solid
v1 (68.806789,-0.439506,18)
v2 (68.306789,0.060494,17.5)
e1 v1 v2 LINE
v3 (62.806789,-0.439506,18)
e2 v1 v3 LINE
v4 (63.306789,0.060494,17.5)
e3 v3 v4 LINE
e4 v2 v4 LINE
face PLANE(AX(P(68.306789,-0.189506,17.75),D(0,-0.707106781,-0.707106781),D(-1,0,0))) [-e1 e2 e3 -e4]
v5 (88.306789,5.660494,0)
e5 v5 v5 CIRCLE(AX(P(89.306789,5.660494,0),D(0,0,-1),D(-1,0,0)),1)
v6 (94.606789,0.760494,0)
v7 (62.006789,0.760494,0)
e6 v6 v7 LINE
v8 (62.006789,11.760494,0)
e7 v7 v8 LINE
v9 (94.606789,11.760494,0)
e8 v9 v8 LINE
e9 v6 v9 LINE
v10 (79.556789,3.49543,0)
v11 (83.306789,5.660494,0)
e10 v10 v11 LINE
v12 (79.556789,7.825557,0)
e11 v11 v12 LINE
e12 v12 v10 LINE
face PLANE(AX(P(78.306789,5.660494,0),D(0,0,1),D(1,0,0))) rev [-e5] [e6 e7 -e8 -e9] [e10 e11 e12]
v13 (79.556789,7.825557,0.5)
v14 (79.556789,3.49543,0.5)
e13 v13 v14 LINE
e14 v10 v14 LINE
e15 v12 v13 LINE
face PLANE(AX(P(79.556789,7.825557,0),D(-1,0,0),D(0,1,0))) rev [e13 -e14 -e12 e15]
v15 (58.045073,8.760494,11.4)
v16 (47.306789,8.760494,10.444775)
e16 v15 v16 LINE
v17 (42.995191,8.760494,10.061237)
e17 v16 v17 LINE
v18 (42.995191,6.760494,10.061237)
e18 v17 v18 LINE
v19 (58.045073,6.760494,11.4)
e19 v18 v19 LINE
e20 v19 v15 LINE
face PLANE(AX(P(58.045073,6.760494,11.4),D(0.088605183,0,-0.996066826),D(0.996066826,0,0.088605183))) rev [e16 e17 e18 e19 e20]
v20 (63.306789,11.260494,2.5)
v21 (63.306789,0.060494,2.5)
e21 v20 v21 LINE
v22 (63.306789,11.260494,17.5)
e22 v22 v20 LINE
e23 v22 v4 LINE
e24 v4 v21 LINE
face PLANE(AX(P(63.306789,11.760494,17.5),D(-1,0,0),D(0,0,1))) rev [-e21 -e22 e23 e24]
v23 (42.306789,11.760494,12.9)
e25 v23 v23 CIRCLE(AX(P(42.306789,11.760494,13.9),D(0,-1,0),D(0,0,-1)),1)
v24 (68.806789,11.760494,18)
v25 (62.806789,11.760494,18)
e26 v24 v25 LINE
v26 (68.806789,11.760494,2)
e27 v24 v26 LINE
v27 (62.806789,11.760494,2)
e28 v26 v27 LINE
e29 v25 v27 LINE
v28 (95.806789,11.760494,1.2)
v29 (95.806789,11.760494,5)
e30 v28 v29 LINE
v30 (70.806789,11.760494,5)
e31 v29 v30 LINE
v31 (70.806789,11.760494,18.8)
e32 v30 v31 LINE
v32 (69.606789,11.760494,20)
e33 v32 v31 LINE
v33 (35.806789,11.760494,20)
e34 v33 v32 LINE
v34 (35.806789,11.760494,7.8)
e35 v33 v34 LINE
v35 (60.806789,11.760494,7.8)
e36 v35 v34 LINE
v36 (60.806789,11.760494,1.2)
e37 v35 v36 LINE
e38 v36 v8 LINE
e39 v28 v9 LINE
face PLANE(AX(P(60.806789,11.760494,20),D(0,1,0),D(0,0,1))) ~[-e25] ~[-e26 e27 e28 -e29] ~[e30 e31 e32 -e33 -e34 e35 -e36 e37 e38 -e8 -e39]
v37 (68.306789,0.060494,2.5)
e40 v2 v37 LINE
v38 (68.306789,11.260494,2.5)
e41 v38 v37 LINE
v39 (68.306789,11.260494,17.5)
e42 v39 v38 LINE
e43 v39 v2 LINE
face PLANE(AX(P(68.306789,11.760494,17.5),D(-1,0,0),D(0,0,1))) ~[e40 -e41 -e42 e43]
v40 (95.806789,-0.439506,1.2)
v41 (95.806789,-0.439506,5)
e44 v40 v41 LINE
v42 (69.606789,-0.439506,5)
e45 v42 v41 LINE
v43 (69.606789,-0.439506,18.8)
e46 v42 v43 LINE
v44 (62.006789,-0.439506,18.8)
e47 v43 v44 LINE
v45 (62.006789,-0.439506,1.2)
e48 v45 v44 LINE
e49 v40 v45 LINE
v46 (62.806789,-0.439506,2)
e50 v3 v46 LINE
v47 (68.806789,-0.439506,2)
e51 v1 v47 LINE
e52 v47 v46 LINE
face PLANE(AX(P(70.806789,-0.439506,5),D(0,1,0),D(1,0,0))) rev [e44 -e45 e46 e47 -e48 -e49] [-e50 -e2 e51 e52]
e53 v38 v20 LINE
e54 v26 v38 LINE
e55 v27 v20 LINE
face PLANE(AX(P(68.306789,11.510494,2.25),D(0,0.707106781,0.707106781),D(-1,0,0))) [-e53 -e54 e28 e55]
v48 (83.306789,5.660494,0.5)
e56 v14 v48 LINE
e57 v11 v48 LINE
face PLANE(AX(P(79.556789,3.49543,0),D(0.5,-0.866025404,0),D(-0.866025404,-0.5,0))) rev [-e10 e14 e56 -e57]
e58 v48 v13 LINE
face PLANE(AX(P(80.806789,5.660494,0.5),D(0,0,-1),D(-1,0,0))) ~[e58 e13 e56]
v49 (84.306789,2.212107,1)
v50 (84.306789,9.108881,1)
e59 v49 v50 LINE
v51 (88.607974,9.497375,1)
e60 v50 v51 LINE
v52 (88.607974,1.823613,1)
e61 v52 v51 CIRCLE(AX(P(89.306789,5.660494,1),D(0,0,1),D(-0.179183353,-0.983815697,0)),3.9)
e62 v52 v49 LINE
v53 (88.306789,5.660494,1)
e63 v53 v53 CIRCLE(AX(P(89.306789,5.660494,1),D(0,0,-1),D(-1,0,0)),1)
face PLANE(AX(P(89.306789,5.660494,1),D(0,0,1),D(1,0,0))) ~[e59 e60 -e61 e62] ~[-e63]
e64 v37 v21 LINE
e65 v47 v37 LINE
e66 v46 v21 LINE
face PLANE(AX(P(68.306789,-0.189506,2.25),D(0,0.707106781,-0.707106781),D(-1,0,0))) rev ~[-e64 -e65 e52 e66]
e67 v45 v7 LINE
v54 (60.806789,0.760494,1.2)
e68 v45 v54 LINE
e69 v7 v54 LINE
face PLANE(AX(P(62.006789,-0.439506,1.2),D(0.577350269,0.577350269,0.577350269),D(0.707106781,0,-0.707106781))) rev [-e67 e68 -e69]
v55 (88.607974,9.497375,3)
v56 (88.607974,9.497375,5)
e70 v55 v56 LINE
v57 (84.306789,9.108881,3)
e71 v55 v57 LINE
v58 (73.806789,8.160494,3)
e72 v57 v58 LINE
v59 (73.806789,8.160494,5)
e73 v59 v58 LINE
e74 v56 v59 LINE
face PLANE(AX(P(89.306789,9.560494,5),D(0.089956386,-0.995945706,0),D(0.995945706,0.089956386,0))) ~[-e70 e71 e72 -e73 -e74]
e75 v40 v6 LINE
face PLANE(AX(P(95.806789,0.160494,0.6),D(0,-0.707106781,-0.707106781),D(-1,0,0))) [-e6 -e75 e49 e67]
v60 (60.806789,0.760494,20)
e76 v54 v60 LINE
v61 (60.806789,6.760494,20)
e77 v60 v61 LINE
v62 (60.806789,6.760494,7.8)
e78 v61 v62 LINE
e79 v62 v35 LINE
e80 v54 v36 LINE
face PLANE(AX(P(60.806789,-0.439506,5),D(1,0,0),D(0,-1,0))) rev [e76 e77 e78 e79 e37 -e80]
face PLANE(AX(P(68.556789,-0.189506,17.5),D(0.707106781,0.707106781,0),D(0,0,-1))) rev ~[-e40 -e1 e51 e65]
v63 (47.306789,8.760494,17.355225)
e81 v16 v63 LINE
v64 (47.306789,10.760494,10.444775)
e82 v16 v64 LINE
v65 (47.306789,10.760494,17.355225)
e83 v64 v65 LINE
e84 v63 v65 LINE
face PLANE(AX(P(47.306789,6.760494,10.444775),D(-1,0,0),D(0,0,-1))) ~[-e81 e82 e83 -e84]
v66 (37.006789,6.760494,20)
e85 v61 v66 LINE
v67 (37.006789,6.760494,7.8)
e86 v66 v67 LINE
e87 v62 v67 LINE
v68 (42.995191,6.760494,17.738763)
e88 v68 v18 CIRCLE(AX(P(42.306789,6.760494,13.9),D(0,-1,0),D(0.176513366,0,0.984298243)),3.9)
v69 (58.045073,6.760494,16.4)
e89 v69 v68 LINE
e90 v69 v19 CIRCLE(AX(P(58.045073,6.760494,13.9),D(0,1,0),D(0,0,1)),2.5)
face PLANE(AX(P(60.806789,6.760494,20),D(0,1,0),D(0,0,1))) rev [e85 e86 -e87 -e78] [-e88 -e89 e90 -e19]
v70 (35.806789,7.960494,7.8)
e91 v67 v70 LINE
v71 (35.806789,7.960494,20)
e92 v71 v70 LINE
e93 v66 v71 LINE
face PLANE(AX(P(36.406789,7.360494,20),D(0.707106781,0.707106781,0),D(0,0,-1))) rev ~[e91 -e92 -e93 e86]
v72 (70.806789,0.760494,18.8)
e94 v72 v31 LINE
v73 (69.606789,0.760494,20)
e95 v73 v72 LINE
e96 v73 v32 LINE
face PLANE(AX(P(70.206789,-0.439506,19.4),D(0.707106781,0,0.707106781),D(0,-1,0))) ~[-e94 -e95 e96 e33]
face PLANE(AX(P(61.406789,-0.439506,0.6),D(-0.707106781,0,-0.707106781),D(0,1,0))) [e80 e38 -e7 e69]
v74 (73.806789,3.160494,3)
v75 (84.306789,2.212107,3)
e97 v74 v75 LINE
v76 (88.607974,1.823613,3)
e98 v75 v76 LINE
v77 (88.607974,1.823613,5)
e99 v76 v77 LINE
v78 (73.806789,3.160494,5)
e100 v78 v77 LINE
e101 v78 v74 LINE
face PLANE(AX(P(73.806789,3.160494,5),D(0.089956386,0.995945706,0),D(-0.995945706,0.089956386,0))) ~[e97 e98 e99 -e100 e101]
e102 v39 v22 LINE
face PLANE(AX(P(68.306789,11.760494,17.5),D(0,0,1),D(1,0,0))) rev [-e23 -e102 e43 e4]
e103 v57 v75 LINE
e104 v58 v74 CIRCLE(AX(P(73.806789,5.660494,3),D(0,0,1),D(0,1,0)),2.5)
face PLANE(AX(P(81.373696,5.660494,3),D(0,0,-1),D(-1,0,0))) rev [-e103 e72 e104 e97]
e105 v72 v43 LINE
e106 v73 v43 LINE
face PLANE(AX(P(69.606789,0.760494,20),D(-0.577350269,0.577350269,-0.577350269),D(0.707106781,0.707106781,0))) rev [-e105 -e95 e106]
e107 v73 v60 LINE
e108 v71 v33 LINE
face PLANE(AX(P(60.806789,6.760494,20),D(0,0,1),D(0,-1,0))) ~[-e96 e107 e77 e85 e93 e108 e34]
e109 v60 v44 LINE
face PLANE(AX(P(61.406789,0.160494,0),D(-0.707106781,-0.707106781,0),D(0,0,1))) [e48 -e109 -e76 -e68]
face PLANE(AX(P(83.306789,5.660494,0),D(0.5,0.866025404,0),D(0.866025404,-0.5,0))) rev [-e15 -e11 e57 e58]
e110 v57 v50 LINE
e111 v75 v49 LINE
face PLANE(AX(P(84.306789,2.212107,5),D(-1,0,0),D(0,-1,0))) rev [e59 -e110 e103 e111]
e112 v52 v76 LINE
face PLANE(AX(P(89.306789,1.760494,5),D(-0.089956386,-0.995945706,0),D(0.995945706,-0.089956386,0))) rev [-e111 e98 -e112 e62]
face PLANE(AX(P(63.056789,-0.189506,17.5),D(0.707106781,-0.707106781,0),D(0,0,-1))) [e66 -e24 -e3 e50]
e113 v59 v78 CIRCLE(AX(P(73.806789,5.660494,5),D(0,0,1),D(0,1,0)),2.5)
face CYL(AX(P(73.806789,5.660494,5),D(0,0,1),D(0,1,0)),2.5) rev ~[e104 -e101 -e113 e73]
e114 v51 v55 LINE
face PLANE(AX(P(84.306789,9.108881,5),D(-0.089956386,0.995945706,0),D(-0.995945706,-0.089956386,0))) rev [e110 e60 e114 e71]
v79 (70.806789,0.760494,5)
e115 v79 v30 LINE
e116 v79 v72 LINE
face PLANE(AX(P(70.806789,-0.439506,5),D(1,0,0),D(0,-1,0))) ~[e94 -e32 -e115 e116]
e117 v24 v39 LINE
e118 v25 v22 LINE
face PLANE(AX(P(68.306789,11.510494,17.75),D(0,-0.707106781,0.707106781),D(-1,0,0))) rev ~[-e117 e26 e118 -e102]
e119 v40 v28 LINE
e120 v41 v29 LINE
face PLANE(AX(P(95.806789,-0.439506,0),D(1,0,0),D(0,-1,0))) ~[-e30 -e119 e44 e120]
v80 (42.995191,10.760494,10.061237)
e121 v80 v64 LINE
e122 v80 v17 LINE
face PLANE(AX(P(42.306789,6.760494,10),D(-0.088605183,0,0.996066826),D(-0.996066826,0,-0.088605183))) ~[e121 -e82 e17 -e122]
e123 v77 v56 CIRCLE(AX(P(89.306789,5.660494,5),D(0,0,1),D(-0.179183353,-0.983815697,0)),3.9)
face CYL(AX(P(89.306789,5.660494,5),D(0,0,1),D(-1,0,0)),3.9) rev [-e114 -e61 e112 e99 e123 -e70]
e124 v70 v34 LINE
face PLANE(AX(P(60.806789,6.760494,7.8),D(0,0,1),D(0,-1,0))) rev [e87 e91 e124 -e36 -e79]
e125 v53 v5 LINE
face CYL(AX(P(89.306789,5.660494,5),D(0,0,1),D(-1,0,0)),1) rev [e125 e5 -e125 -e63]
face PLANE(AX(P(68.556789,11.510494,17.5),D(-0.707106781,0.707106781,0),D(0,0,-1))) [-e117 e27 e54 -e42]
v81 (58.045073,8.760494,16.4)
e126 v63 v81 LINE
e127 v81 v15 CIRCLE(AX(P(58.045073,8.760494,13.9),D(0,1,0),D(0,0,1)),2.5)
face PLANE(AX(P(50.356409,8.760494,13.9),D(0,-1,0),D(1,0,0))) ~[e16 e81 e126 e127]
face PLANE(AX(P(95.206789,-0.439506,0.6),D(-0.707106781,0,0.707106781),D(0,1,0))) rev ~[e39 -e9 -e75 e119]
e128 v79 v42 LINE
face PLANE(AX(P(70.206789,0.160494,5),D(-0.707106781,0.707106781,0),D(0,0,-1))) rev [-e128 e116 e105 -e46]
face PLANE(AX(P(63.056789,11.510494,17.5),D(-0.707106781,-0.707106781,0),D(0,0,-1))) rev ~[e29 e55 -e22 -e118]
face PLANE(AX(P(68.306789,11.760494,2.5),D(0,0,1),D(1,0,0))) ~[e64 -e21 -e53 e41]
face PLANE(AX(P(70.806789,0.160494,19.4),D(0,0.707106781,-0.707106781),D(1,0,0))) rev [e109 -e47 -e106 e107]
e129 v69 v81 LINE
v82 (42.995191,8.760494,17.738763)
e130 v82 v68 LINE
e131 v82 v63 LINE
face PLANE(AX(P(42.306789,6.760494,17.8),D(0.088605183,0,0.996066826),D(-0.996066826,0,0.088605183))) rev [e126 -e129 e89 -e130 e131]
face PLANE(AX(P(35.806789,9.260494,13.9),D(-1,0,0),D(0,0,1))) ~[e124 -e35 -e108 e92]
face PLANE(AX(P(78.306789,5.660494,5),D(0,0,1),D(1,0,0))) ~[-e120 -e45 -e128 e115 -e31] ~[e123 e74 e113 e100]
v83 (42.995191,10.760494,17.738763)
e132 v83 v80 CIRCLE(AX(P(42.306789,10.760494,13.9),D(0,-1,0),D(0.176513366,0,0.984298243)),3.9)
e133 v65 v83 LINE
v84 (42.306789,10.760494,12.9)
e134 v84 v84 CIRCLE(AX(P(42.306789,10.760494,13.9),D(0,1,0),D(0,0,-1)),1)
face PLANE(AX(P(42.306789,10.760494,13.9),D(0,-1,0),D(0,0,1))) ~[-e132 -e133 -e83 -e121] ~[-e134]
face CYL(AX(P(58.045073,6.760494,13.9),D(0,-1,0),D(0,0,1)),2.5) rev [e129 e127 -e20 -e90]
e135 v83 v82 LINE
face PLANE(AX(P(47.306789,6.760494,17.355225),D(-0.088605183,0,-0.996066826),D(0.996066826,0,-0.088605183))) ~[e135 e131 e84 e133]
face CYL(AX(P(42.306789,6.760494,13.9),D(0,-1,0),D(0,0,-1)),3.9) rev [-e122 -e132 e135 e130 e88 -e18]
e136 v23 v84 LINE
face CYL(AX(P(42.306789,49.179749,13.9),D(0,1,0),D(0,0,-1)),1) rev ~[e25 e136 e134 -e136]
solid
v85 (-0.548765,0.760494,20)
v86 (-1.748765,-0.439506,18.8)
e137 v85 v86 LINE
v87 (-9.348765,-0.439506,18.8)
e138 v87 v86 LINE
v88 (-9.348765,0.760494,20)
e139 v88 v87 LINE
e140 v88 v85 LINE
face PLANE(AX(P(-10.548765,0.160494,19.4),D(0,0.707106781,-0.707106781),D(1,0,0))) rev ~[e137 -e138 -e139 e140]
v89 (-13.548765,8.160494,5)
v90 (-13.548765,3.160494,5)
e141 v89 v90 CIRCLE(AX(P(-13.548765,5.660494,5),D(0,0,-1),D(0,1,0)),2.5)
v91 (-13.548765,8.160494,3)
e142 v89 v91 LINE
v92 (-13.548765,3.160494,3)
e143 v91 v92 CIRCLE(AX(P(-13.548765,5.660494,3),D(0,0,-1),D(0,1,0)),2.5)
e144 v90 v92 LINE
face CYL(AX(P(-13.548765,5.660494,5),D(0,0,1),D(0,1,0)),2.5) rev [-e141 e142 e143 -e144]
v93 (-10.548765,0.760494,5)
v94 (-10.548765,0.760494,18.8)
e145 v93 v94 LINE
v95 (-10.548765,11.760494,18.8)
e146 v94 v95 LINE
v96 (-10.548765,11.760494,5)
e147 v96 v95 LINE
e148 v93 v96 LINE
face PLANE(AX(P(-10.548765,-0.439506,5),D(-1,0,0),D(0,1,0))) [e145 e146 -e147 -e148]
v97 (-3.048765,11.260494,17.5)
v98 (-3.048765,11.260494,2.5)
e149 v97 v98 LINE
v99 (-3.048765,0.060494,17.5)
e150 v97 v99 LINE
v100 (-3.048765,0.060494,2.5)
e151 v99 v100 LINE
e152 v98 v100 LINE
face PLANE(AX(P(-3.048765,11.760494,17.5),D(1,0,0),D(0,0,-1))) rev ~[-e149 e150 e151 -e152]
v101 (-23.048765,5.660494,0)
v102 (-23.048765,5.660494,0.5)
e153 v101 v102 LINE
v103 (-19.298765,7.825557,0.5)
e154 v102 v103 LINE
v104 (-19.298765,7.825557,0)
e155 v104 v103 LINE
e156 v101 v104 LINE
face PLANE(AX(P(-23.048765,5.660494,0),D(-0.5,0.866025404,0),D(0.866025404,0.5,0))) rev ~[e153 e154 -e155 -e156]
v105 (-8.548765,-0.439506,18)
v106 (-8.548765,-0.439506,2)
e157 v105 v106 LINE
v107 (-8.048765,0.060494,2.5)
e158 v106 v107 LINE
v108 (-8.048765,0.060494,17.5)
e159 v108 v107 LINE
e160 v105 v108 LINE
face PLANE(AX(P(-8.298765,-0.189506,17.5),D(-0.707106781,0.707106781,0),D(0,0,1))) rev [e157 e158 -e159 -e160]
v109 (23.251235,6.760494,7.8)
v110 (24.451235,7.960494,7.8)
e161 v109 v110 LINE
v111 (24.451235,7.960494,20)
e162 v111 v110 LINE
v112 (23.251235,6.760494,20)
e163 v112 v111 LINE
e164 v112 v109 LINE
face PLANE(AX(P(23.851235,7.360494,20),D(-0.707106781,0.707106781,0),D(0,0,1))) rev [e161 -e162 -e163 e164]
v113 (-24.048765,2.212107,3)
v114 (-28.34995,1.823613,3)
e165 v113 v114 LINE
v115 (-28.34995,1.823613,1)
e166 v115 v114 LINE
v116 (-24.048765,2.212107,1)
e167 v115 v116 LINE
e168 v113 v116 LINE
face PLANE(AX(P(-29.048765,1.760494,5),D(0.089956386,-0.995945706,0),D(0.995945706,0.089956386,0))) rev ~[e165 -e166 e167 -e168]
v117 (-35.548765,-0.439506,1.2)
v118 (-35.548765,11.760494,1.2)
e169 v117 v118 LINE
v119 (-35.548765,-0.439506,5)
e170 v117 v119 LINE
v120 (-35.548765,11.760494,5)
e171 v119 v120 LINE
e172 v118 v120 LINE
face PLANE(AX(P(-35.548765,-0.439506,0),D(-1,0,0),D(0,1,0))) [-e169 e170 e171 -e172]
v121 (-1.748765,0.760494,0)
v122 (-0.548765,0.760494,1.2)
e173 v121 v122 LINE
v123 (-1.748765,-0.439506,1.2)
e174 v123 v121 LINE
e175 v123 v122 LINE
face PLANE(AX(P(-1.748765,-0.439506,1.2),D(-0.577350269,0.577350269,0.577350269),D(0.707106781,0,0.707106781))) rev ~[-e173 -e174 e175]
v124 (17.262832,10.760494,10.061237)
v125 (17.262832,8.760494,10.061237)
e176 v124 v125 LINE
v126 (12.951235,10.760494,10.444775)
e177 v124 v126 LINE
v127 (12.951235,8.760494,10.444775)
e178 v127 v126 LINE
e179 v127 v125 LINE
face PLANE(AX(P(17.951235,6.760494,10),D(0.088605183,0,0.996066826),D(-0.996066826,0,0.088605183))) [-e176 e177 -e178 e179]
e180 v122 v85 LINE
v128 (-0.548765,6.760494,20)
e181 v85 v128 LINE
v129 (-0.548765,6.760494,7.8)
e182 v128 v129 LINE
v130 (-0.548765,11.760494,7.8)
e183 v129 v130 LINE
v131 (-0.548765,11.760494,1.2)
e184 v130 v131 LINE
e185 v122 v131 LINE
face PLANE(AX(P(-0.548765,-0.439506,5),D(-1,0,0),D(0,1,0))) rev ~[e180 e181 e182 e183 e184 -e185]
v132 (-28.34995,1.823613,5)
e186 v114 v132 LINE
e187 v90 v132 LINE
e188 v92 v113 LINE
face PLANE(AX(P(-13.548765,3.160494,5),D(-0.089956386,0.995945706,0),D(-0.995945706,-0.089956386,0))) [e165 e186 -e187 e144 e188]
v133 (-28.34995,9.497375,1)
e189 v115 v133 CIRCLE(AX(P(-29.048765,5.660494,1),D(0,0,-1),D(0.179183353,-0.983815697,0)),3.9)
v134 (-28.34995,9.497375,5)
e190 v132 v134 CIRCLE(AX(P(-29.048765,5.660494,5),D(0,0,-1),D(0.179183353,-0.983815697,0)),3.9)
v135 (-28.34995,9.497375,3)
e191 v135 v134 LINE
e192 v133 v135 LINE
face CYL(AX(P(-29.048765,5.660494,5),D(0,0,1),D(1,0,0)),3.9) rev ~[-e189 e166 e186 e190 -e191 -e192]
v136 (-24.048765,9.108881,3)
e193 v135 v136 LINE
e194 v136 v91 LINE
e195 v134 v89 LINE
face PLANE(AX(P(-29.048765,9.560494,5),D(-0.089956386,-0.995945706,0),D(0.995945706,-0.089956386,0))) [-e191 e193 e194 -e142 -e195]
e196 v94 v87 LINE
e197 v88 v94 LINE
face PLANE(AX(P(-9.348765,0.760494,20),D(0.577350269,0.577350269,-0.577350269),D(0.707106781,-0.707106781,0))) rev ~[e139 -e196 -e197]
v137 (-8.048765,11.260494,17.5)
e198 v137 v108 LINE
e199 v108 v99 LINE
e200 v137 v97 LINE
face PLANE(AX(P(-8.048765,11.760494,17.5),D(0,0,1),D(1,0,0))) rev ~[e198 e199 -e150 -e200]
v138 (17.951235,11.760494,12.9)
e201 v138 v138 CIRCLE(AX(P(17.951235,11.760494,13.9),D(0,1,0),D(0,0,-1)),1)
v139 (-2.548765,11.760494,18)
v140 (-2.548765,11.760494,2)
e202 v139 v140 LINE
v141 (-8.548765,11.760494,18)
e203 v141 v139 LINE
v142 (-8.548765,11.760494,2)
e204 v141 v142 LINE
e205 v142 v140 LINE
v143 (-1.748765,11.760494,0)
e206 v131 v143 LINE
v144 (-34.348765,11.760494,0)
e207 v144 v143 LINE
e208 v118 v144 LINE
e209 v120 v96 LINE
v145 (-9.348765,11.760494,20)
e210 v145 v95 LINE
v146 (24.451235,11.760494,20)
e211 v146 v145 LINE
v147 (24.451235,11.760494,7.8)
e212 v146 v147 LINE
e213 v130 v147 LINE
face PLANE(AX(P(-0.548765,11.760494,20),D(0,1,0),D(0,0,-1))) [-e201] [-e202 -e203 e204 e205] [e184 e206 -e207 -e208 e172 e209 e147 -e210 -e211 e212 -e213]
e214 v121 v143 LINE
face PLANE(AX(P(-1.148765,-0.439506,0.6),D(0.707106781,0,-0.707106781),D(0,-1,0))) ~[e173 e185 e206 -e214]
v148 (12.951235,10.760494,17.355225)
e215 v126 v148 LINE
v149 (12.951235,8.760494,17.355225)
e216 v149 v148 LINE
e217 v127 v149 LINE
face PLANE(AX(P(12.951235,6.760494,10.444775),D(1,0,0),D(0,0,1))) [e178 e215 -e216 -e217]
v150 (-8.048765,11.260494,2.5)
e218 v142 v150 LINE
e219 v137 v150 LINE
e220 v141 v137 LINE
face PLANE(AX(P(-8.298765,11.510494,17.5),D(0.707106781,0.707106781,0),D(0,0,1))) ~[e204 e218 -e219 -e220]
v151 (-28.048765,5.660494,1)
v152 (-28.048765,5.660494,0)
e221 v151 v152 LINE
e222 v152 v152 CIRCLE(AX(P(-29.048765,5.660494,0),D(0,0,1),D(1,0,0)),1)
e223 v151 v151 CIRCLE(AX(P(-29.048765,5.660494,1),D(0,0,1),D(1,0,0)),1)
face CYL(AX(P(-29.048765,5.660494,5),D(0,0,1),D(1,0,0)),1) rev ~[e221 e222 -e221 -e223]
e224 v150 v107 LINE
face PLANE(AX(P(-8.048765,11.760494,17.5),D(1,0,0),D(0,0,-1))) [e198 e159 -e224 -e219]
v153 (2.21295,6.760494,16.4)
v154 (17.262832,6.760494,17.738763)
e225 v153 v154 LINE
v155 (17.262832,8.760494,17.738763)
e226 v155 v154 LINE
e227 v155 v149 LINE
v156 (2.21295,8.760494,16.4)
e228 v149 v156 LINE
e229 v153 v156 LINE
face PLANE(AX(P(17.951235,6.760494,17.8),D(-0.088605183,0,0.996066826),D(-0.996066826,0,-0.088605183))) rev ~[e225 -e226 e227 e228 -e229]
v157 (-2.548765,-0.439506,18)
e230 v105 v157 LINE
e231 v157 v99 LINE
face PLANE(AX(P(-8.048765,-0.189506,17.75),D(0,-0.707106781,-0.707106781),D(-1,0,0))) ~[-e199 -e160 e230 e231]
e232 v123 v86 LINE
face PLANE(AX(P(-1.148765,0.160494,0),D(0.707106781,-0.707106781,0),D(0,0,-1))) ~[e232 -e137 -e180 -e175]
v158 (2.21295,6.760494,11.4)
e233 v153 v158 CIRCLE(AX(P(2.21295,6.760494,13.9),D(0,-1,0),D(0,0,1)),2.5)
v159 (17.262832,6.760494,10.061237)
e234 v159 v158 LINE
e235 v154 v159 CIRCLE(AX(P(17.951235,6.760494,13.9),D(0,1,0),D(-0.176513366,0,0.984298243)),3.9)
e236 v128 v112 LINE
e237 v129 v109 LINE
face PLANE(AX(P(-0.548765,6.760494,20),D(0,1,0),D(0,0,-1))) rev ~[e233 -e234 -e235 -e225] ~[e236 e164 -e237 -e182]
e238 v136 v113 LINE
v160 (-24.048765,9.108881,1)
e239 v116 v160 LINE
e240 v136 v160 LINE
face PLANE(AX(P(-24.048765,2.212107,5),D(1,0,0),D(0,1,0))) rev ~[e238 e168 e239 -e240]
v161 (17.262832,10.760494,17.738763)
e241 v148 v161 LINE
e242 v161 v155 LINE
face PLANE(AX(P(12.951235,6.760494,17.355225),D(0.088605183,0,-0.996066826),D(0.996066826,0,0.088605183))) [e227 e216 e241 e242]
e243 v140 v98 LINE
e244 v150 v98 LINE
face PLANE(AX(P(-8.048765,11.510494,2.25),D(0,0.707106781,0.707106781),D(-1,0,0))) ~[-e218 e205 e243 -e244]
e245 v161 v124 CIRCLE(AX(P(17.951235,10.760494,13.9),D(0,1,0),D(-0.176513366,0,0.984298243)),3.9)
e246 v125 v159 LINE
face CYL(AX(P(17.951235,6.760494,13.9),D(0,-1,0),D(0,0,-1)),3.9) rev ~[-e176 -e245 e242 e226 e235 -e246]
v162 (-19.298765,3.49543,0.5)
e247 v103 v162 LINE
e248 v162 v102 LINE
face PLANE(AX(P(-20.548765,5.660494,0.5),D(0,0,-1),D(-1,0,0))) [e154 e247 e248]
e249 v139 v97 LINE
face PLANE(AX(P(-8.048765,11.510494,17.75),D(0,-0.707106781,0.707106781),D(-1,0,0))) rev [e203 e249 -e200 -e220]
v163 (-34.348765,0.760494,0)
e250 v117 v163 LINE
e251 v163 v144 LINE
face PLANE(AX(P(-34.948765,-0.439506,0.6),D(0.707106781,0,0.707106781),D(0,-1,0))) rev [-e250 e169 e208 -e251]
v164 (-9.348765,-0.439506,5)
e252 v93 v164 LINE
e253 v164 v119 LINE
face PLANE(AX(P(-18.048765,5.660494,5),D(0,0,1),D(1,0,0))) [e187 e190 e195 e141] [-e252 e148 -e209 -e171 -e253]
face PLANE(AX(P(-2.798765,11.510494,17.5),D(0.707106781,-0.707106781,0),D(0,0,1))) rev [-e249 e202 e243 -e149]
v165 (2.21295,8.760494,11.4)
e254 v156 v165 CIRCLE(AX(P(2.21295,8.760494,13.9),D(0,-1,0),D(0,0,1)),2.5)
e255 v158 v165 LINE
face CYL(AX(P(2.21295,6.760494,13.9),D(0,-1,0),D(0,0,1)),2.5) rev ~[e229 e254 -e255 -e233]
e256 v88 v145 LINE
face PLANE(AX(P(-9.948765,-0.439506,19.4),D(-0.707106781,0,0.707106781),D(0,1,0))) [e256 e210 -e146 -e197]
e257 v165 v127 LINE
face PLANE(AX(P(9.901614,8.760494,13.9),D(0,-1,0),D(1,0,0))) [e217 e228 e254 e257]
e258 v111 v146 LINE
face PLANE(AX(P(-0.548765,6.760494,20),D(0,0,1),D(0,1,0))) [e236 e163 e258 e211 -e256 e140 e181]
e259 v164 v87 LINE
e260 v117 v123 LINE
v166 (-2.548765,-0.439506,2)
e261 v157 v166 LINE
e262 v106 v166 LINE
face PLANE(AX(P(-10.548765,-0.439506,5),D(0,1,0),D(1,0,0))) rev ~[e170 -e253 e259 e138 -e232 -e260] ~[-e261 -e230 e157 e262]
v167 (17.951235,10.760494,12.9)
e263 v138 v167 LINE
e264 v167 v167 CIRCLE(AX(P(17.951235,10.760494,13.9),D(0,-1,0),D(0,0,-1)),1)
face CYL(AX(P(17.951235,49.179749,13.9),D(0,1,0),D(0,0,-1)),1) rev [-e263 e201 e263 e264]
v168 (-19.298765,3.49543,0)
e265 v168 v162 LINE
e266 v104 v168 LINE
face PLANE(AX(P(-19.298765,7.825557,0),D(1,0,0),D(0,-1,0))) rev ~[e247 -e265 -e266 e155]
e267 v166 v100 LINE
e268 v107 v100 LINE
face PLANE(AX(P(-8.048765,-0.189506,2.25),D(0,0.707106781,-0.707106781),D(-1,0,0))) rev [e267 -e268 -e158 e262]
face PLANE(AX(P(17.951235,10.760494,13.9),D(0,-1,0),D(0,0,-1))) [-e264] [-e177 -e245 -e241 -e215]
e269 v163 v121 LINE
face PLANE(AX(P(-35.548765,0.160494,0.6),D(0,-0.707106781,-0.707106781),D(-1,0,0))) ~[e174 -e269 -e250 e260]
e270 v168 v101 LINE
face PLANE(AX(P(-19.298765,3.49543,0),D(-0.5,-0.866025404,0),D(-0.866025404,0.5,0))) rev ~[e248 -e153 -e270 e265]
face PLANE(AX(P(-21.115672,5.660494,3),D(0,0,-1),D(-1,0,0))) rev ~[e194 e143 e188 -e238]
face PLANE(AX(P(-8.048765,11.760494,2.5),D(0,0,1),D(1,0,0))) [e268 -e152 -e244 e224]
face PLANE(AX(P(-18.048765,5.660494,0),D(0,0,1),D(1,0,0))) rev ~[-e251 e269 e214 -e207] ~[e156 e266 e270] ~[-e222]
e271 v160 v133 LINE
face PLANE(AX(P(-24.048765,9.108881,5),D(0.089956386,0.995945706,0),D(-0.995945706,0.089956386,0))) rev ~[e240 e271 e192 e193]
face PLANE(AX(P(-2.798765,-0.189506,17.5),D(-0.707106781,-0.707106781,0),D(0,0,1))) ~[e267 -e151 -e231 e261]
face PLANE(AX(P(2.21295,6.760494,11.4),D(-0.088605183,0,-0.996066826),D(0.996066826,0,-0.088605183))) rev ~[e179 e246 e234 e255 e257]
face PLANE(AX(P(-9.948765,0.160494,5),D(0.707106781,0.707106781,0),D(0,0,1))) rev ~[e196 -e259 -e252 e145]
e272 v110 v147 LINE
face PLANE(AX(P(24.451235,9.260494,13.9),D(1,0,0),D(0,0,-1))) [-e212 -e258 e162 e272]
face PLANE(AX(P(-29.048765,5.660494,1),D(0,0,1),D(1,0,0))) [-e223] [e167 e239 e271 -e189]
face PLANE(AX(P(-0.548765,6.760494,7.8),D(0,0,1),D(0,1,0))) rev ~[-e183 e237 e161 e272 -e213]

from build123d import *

# Parameters (mm, degrees)
SKETCH1_W               = 35
SKETCH1_H               = 12.2
BOSS_EXTRUDE1_DEPTH     = 5
SKETCH2_R               = 1
CUT_EXTRUDE1_DEPTH      = 38.775970389
SKETCH3_W               = 10
SKETCH3_H               = 12.2
BOSS_EXTRUDE2_DEPTH     = 15
SKETCH4_W               = 12.2
SKETCH4_H               = 5
BOSS_EXTRUDE3_DEPTH     = 25
CUT_EXTRUDE2_DEPTH      = 42.419255471
CUT_EXTRUDE2_DEPTH_BACK = 42.419255471
SKETCH5_R               = 1
CUT_EXTRUDE3_DEPTH      = 0.5
CHAMFER1_SIZE           = 1.2
SKETCH8_R               = 3.9
CUT_EXTRUDE4_DEPTH      = 4
CUT_EXTRUDE5_DEPTH      = 2
CUT_EXTRUDE6_DEPTH      = 4
SKETCH20_R              = 3.9
CUT_EXTRUDE11_DEPTH     = 4
CUT_EXTRUDE12_DEPTH     = 2
CUT_EXTRUDE13_DEPTH     = 4
SKETCH23_W              = 5
SKETCH23_H              = 15
CUT_EXTRUDE14_DEPTH     = 43.574108608
CHAMFER2_SIZE           = 0.5


with BuildPart() as part:
    # Sketch1 → Boss-Extrude1 (new body)
    with BuildSketch(Plane.XY):
        with Locations((-18.048765432, 5.660493827)):
            Rectangle(SKETCH1_W, SKETCH1_H)
    extrude(amount=BOSS_EXTRUDE1_DEPTH)

    # Sketch2 → Cut-Extrude1 (cut, through all)
    with BuildSketch(Plane.XY.offset(5)):
        with Locations((-29.048765432, 5.660493827)):
            Circle(SKETCH2_R)
    extrude(amount=-CUT_EXTRUDE1_DEPTH, mode=Mode.SUBTRACT)

    # Sketch3 → Boss-Extrude2 (add)
    with BuildSketch(Plane.XY.offset(5)):
        with Locations((-5.548765432, 5.660493827)):
            Rectangle(SKETCH3_W, SKETCH3_H)
    extrude(amount=BOSS_EXTRUDE2_DEPTH)

    # Sketch4 → Boss-Extrude3 (add)
    with BuildSketch(Plane(origin=(-0.548765432, 0, 0), x_dir=(0, 0, -1), z_dir=(1, 0, 0))):
        with Locations((-13.9, 9.260493827)):
            Rectangle(SKETCH4_W, SKETCH4_H)
    extrude(amount=BOSS_EXTRUDE3_DEPTH)

    # Sketch5 → Cut-Extrude2 (cut, two sides: drawn at the far end of the back side and taken through both)
    with BuildSketch(Plane.XZ.offset(-6.760493827).offset(-CUT_EXTRUDE2_DEPTH_BACK)):
        with Locations(Location((17.951234568, 13.9, 0), (0, 0, 270))):
            Circle(SKETCH5_R)
    extrude(amount=CUT_EXTRUDE2_DEPTH + CUT_EXTRUDE2_DEPTH_BACK, mode=Mode.SUBTRACT)

    # Sketch7 → Cut-Extrude3 (cut)
    with BuildSketch(Plane(origin=(0, 0, 0), x_dir=(-1, 0, 0), z_dir=(0, 0, -1))):
        Polygon((23.048765432, 5.660493827), (19.298765432, 7.825557337), (19.298765432, 3.495430318), align=None)
    extrude(amount=-CUT_EXTRUDE3_DEPTH, mode=Mode.SUBTRACT)

    # Chamfer1
    chamfer1_edges = [part.edges().sort_by_distance(p)[0] for p in [
        (-10.548765432, -0.439506173, 12.5),
        (-10.548765432, 5.660493827, 20),
        (-5.548765432, -0.439506173, 20),
        (24.451234568, 6.760493827, 13.9),
        (-0.548765432, 5.660493827, 0),
        (-18.048765432, -0.439506173, 0),
        (-35.548765432, 5.660493827, 0),
        (-0.548765432, -0.439506173, 10),
    ]]
    chamfer(chamfer1_edges, length=CHAMFER1_SIZE)

    # Sketch8 → Cut-Extrude4 (cut)
    with BuildSketch(Plane.XY.offset(5)):
        with Locations((-29.048765432, 5.660493827)):
            Circle(SKETCH8_R)
    extrude(amount=-CUT_EXTRUDE4_DEPTH, mode=Mode.SUBTRACT)

    # Sketch10 → Cut-Extrude5 (cut)
    with BuildSketch(Plane.XY.offset(5)):
        with BuildLine():
            Line((-29.048765432, 9.560493827), (-13.548765432, 8.160493827))
            ThreePointArc((-13.548765432, 8.160493827), (-11.048765432, 5.660493827), (-13.548765432, 3.160493827))
            Line((-13.548765432, 3.160493827), (-29.048765432, 1.760493827))
            Line((-29.048765432, 1.760493827), (-29.048765432, 9.560493827))
        make_face()
    extrude(amount=-CUT_EXTRUDE5_DEPTH, mode=Mode.SUBTRACT)

    # Sketch12 → Cut-Extrude6 (cut)
    with BuildSketch(Plane.XY.offset(5)):
        Polygon((-24.048765432, 5.660493827), (-24.048765432, 9.108880924), (-29.048765432, 9.560493827), (-29.048765432, 1.760493827), (-24.048765432, 2.21210673), align=None)
    extrude(amount=-CUT_EXTRUDE6_DEPTH, mode=Mode.SUBTRACT)

    # Sketch20 → Cut-Extrude11 (cut)
    with BuildSketch(Plane.XZ.offset(-6.760493827)):
        with Locations(Location((17.951234568, 13.9, 0), (0, 0, 270))):
            Circle(SKETCH20_R)
    extrude(amount=-CUT_EXTRUDE11_DEPTH, mode=Mode.SUBTRACT)

    # Sketch21 → Cut-Extrude12 (cut)
    with BuildSketch(Plane.XZ.offset(-6.760493827)):
        with BuildLine():
            Line((17.951234568, 17.8), (2.21295028, 16.4))
            ThreePointArc((2.21295028, 16.4), (-0.28704972, 13.9), (2.21295028, 11.4))
            Line((2.21295028, 11.4), (17.951234568, 10))
            Line((17.951234568, 10), (17.951234568, 17.8))
        make_face()
    extrude(amount=-CUT_EXTRUDE12_DEPTH, mode=Mode.SUBTRACT)

    # Sketch22 → Cut-Extrude13 (cut)
    with BuildSketch(Plane.XZ.offset(-6.760493827)):
        Polygon((17.951234568, 17.8), (17.951234568, 10), (12.951234568, 10.444775293), (12.951234568, 17.355224707), align=None)
    extrude(amount=-CUT_EXTRUDE13_DEPTH, mode=Mode.SUBTRACT)

    # Sketch23 → Cut-Extrude14 (cut, through all)
    with BuildSketch(Plane(origin=(0, 11.760493827, 0), x_dir=(1, 0, 0), z_dir=(0, 1, 0))):
        with Locations((-5.548765432, -10)):
            Rectangle(SKETCH23_W, SKETCH23_H)
    extrude(amount=-CUT_EXTRUDE14_DEPTH, mode=Mode.SUBTRACT)

    # Chamfer2
    chamfer2_edges = [part.edges().sort_by_distance(p)[0] for p in [
        (-8.048765432, -0.439506173, 10),
        (-5.548765432, -0.439506173, 2.5),
        (-3.048765432, -0.439506173, 10),
        (-5.548765432, -0.439506173, 17.5),
        (-8.048765432, 11.760493827, 10),
        (-5.548765432, 11.760493827, 17.5),
        (-3.048765432, 11.760493827, 10),
        (-5.548765432, 11.760493827, 2.5),
    ]]
    chamfer(chamfer2_edges, length=CHAMFER2_SIZE)


with BuildPart() as body_2:
    # Mirror3: mirrored copy
    add(part.part.mirror(Plane(origin=(30.129011824, 0, 0), x_dir=(0, 0, 1), z_dir=(1, 0, 0))))


solid = Compound([part.part, body_2.part])
